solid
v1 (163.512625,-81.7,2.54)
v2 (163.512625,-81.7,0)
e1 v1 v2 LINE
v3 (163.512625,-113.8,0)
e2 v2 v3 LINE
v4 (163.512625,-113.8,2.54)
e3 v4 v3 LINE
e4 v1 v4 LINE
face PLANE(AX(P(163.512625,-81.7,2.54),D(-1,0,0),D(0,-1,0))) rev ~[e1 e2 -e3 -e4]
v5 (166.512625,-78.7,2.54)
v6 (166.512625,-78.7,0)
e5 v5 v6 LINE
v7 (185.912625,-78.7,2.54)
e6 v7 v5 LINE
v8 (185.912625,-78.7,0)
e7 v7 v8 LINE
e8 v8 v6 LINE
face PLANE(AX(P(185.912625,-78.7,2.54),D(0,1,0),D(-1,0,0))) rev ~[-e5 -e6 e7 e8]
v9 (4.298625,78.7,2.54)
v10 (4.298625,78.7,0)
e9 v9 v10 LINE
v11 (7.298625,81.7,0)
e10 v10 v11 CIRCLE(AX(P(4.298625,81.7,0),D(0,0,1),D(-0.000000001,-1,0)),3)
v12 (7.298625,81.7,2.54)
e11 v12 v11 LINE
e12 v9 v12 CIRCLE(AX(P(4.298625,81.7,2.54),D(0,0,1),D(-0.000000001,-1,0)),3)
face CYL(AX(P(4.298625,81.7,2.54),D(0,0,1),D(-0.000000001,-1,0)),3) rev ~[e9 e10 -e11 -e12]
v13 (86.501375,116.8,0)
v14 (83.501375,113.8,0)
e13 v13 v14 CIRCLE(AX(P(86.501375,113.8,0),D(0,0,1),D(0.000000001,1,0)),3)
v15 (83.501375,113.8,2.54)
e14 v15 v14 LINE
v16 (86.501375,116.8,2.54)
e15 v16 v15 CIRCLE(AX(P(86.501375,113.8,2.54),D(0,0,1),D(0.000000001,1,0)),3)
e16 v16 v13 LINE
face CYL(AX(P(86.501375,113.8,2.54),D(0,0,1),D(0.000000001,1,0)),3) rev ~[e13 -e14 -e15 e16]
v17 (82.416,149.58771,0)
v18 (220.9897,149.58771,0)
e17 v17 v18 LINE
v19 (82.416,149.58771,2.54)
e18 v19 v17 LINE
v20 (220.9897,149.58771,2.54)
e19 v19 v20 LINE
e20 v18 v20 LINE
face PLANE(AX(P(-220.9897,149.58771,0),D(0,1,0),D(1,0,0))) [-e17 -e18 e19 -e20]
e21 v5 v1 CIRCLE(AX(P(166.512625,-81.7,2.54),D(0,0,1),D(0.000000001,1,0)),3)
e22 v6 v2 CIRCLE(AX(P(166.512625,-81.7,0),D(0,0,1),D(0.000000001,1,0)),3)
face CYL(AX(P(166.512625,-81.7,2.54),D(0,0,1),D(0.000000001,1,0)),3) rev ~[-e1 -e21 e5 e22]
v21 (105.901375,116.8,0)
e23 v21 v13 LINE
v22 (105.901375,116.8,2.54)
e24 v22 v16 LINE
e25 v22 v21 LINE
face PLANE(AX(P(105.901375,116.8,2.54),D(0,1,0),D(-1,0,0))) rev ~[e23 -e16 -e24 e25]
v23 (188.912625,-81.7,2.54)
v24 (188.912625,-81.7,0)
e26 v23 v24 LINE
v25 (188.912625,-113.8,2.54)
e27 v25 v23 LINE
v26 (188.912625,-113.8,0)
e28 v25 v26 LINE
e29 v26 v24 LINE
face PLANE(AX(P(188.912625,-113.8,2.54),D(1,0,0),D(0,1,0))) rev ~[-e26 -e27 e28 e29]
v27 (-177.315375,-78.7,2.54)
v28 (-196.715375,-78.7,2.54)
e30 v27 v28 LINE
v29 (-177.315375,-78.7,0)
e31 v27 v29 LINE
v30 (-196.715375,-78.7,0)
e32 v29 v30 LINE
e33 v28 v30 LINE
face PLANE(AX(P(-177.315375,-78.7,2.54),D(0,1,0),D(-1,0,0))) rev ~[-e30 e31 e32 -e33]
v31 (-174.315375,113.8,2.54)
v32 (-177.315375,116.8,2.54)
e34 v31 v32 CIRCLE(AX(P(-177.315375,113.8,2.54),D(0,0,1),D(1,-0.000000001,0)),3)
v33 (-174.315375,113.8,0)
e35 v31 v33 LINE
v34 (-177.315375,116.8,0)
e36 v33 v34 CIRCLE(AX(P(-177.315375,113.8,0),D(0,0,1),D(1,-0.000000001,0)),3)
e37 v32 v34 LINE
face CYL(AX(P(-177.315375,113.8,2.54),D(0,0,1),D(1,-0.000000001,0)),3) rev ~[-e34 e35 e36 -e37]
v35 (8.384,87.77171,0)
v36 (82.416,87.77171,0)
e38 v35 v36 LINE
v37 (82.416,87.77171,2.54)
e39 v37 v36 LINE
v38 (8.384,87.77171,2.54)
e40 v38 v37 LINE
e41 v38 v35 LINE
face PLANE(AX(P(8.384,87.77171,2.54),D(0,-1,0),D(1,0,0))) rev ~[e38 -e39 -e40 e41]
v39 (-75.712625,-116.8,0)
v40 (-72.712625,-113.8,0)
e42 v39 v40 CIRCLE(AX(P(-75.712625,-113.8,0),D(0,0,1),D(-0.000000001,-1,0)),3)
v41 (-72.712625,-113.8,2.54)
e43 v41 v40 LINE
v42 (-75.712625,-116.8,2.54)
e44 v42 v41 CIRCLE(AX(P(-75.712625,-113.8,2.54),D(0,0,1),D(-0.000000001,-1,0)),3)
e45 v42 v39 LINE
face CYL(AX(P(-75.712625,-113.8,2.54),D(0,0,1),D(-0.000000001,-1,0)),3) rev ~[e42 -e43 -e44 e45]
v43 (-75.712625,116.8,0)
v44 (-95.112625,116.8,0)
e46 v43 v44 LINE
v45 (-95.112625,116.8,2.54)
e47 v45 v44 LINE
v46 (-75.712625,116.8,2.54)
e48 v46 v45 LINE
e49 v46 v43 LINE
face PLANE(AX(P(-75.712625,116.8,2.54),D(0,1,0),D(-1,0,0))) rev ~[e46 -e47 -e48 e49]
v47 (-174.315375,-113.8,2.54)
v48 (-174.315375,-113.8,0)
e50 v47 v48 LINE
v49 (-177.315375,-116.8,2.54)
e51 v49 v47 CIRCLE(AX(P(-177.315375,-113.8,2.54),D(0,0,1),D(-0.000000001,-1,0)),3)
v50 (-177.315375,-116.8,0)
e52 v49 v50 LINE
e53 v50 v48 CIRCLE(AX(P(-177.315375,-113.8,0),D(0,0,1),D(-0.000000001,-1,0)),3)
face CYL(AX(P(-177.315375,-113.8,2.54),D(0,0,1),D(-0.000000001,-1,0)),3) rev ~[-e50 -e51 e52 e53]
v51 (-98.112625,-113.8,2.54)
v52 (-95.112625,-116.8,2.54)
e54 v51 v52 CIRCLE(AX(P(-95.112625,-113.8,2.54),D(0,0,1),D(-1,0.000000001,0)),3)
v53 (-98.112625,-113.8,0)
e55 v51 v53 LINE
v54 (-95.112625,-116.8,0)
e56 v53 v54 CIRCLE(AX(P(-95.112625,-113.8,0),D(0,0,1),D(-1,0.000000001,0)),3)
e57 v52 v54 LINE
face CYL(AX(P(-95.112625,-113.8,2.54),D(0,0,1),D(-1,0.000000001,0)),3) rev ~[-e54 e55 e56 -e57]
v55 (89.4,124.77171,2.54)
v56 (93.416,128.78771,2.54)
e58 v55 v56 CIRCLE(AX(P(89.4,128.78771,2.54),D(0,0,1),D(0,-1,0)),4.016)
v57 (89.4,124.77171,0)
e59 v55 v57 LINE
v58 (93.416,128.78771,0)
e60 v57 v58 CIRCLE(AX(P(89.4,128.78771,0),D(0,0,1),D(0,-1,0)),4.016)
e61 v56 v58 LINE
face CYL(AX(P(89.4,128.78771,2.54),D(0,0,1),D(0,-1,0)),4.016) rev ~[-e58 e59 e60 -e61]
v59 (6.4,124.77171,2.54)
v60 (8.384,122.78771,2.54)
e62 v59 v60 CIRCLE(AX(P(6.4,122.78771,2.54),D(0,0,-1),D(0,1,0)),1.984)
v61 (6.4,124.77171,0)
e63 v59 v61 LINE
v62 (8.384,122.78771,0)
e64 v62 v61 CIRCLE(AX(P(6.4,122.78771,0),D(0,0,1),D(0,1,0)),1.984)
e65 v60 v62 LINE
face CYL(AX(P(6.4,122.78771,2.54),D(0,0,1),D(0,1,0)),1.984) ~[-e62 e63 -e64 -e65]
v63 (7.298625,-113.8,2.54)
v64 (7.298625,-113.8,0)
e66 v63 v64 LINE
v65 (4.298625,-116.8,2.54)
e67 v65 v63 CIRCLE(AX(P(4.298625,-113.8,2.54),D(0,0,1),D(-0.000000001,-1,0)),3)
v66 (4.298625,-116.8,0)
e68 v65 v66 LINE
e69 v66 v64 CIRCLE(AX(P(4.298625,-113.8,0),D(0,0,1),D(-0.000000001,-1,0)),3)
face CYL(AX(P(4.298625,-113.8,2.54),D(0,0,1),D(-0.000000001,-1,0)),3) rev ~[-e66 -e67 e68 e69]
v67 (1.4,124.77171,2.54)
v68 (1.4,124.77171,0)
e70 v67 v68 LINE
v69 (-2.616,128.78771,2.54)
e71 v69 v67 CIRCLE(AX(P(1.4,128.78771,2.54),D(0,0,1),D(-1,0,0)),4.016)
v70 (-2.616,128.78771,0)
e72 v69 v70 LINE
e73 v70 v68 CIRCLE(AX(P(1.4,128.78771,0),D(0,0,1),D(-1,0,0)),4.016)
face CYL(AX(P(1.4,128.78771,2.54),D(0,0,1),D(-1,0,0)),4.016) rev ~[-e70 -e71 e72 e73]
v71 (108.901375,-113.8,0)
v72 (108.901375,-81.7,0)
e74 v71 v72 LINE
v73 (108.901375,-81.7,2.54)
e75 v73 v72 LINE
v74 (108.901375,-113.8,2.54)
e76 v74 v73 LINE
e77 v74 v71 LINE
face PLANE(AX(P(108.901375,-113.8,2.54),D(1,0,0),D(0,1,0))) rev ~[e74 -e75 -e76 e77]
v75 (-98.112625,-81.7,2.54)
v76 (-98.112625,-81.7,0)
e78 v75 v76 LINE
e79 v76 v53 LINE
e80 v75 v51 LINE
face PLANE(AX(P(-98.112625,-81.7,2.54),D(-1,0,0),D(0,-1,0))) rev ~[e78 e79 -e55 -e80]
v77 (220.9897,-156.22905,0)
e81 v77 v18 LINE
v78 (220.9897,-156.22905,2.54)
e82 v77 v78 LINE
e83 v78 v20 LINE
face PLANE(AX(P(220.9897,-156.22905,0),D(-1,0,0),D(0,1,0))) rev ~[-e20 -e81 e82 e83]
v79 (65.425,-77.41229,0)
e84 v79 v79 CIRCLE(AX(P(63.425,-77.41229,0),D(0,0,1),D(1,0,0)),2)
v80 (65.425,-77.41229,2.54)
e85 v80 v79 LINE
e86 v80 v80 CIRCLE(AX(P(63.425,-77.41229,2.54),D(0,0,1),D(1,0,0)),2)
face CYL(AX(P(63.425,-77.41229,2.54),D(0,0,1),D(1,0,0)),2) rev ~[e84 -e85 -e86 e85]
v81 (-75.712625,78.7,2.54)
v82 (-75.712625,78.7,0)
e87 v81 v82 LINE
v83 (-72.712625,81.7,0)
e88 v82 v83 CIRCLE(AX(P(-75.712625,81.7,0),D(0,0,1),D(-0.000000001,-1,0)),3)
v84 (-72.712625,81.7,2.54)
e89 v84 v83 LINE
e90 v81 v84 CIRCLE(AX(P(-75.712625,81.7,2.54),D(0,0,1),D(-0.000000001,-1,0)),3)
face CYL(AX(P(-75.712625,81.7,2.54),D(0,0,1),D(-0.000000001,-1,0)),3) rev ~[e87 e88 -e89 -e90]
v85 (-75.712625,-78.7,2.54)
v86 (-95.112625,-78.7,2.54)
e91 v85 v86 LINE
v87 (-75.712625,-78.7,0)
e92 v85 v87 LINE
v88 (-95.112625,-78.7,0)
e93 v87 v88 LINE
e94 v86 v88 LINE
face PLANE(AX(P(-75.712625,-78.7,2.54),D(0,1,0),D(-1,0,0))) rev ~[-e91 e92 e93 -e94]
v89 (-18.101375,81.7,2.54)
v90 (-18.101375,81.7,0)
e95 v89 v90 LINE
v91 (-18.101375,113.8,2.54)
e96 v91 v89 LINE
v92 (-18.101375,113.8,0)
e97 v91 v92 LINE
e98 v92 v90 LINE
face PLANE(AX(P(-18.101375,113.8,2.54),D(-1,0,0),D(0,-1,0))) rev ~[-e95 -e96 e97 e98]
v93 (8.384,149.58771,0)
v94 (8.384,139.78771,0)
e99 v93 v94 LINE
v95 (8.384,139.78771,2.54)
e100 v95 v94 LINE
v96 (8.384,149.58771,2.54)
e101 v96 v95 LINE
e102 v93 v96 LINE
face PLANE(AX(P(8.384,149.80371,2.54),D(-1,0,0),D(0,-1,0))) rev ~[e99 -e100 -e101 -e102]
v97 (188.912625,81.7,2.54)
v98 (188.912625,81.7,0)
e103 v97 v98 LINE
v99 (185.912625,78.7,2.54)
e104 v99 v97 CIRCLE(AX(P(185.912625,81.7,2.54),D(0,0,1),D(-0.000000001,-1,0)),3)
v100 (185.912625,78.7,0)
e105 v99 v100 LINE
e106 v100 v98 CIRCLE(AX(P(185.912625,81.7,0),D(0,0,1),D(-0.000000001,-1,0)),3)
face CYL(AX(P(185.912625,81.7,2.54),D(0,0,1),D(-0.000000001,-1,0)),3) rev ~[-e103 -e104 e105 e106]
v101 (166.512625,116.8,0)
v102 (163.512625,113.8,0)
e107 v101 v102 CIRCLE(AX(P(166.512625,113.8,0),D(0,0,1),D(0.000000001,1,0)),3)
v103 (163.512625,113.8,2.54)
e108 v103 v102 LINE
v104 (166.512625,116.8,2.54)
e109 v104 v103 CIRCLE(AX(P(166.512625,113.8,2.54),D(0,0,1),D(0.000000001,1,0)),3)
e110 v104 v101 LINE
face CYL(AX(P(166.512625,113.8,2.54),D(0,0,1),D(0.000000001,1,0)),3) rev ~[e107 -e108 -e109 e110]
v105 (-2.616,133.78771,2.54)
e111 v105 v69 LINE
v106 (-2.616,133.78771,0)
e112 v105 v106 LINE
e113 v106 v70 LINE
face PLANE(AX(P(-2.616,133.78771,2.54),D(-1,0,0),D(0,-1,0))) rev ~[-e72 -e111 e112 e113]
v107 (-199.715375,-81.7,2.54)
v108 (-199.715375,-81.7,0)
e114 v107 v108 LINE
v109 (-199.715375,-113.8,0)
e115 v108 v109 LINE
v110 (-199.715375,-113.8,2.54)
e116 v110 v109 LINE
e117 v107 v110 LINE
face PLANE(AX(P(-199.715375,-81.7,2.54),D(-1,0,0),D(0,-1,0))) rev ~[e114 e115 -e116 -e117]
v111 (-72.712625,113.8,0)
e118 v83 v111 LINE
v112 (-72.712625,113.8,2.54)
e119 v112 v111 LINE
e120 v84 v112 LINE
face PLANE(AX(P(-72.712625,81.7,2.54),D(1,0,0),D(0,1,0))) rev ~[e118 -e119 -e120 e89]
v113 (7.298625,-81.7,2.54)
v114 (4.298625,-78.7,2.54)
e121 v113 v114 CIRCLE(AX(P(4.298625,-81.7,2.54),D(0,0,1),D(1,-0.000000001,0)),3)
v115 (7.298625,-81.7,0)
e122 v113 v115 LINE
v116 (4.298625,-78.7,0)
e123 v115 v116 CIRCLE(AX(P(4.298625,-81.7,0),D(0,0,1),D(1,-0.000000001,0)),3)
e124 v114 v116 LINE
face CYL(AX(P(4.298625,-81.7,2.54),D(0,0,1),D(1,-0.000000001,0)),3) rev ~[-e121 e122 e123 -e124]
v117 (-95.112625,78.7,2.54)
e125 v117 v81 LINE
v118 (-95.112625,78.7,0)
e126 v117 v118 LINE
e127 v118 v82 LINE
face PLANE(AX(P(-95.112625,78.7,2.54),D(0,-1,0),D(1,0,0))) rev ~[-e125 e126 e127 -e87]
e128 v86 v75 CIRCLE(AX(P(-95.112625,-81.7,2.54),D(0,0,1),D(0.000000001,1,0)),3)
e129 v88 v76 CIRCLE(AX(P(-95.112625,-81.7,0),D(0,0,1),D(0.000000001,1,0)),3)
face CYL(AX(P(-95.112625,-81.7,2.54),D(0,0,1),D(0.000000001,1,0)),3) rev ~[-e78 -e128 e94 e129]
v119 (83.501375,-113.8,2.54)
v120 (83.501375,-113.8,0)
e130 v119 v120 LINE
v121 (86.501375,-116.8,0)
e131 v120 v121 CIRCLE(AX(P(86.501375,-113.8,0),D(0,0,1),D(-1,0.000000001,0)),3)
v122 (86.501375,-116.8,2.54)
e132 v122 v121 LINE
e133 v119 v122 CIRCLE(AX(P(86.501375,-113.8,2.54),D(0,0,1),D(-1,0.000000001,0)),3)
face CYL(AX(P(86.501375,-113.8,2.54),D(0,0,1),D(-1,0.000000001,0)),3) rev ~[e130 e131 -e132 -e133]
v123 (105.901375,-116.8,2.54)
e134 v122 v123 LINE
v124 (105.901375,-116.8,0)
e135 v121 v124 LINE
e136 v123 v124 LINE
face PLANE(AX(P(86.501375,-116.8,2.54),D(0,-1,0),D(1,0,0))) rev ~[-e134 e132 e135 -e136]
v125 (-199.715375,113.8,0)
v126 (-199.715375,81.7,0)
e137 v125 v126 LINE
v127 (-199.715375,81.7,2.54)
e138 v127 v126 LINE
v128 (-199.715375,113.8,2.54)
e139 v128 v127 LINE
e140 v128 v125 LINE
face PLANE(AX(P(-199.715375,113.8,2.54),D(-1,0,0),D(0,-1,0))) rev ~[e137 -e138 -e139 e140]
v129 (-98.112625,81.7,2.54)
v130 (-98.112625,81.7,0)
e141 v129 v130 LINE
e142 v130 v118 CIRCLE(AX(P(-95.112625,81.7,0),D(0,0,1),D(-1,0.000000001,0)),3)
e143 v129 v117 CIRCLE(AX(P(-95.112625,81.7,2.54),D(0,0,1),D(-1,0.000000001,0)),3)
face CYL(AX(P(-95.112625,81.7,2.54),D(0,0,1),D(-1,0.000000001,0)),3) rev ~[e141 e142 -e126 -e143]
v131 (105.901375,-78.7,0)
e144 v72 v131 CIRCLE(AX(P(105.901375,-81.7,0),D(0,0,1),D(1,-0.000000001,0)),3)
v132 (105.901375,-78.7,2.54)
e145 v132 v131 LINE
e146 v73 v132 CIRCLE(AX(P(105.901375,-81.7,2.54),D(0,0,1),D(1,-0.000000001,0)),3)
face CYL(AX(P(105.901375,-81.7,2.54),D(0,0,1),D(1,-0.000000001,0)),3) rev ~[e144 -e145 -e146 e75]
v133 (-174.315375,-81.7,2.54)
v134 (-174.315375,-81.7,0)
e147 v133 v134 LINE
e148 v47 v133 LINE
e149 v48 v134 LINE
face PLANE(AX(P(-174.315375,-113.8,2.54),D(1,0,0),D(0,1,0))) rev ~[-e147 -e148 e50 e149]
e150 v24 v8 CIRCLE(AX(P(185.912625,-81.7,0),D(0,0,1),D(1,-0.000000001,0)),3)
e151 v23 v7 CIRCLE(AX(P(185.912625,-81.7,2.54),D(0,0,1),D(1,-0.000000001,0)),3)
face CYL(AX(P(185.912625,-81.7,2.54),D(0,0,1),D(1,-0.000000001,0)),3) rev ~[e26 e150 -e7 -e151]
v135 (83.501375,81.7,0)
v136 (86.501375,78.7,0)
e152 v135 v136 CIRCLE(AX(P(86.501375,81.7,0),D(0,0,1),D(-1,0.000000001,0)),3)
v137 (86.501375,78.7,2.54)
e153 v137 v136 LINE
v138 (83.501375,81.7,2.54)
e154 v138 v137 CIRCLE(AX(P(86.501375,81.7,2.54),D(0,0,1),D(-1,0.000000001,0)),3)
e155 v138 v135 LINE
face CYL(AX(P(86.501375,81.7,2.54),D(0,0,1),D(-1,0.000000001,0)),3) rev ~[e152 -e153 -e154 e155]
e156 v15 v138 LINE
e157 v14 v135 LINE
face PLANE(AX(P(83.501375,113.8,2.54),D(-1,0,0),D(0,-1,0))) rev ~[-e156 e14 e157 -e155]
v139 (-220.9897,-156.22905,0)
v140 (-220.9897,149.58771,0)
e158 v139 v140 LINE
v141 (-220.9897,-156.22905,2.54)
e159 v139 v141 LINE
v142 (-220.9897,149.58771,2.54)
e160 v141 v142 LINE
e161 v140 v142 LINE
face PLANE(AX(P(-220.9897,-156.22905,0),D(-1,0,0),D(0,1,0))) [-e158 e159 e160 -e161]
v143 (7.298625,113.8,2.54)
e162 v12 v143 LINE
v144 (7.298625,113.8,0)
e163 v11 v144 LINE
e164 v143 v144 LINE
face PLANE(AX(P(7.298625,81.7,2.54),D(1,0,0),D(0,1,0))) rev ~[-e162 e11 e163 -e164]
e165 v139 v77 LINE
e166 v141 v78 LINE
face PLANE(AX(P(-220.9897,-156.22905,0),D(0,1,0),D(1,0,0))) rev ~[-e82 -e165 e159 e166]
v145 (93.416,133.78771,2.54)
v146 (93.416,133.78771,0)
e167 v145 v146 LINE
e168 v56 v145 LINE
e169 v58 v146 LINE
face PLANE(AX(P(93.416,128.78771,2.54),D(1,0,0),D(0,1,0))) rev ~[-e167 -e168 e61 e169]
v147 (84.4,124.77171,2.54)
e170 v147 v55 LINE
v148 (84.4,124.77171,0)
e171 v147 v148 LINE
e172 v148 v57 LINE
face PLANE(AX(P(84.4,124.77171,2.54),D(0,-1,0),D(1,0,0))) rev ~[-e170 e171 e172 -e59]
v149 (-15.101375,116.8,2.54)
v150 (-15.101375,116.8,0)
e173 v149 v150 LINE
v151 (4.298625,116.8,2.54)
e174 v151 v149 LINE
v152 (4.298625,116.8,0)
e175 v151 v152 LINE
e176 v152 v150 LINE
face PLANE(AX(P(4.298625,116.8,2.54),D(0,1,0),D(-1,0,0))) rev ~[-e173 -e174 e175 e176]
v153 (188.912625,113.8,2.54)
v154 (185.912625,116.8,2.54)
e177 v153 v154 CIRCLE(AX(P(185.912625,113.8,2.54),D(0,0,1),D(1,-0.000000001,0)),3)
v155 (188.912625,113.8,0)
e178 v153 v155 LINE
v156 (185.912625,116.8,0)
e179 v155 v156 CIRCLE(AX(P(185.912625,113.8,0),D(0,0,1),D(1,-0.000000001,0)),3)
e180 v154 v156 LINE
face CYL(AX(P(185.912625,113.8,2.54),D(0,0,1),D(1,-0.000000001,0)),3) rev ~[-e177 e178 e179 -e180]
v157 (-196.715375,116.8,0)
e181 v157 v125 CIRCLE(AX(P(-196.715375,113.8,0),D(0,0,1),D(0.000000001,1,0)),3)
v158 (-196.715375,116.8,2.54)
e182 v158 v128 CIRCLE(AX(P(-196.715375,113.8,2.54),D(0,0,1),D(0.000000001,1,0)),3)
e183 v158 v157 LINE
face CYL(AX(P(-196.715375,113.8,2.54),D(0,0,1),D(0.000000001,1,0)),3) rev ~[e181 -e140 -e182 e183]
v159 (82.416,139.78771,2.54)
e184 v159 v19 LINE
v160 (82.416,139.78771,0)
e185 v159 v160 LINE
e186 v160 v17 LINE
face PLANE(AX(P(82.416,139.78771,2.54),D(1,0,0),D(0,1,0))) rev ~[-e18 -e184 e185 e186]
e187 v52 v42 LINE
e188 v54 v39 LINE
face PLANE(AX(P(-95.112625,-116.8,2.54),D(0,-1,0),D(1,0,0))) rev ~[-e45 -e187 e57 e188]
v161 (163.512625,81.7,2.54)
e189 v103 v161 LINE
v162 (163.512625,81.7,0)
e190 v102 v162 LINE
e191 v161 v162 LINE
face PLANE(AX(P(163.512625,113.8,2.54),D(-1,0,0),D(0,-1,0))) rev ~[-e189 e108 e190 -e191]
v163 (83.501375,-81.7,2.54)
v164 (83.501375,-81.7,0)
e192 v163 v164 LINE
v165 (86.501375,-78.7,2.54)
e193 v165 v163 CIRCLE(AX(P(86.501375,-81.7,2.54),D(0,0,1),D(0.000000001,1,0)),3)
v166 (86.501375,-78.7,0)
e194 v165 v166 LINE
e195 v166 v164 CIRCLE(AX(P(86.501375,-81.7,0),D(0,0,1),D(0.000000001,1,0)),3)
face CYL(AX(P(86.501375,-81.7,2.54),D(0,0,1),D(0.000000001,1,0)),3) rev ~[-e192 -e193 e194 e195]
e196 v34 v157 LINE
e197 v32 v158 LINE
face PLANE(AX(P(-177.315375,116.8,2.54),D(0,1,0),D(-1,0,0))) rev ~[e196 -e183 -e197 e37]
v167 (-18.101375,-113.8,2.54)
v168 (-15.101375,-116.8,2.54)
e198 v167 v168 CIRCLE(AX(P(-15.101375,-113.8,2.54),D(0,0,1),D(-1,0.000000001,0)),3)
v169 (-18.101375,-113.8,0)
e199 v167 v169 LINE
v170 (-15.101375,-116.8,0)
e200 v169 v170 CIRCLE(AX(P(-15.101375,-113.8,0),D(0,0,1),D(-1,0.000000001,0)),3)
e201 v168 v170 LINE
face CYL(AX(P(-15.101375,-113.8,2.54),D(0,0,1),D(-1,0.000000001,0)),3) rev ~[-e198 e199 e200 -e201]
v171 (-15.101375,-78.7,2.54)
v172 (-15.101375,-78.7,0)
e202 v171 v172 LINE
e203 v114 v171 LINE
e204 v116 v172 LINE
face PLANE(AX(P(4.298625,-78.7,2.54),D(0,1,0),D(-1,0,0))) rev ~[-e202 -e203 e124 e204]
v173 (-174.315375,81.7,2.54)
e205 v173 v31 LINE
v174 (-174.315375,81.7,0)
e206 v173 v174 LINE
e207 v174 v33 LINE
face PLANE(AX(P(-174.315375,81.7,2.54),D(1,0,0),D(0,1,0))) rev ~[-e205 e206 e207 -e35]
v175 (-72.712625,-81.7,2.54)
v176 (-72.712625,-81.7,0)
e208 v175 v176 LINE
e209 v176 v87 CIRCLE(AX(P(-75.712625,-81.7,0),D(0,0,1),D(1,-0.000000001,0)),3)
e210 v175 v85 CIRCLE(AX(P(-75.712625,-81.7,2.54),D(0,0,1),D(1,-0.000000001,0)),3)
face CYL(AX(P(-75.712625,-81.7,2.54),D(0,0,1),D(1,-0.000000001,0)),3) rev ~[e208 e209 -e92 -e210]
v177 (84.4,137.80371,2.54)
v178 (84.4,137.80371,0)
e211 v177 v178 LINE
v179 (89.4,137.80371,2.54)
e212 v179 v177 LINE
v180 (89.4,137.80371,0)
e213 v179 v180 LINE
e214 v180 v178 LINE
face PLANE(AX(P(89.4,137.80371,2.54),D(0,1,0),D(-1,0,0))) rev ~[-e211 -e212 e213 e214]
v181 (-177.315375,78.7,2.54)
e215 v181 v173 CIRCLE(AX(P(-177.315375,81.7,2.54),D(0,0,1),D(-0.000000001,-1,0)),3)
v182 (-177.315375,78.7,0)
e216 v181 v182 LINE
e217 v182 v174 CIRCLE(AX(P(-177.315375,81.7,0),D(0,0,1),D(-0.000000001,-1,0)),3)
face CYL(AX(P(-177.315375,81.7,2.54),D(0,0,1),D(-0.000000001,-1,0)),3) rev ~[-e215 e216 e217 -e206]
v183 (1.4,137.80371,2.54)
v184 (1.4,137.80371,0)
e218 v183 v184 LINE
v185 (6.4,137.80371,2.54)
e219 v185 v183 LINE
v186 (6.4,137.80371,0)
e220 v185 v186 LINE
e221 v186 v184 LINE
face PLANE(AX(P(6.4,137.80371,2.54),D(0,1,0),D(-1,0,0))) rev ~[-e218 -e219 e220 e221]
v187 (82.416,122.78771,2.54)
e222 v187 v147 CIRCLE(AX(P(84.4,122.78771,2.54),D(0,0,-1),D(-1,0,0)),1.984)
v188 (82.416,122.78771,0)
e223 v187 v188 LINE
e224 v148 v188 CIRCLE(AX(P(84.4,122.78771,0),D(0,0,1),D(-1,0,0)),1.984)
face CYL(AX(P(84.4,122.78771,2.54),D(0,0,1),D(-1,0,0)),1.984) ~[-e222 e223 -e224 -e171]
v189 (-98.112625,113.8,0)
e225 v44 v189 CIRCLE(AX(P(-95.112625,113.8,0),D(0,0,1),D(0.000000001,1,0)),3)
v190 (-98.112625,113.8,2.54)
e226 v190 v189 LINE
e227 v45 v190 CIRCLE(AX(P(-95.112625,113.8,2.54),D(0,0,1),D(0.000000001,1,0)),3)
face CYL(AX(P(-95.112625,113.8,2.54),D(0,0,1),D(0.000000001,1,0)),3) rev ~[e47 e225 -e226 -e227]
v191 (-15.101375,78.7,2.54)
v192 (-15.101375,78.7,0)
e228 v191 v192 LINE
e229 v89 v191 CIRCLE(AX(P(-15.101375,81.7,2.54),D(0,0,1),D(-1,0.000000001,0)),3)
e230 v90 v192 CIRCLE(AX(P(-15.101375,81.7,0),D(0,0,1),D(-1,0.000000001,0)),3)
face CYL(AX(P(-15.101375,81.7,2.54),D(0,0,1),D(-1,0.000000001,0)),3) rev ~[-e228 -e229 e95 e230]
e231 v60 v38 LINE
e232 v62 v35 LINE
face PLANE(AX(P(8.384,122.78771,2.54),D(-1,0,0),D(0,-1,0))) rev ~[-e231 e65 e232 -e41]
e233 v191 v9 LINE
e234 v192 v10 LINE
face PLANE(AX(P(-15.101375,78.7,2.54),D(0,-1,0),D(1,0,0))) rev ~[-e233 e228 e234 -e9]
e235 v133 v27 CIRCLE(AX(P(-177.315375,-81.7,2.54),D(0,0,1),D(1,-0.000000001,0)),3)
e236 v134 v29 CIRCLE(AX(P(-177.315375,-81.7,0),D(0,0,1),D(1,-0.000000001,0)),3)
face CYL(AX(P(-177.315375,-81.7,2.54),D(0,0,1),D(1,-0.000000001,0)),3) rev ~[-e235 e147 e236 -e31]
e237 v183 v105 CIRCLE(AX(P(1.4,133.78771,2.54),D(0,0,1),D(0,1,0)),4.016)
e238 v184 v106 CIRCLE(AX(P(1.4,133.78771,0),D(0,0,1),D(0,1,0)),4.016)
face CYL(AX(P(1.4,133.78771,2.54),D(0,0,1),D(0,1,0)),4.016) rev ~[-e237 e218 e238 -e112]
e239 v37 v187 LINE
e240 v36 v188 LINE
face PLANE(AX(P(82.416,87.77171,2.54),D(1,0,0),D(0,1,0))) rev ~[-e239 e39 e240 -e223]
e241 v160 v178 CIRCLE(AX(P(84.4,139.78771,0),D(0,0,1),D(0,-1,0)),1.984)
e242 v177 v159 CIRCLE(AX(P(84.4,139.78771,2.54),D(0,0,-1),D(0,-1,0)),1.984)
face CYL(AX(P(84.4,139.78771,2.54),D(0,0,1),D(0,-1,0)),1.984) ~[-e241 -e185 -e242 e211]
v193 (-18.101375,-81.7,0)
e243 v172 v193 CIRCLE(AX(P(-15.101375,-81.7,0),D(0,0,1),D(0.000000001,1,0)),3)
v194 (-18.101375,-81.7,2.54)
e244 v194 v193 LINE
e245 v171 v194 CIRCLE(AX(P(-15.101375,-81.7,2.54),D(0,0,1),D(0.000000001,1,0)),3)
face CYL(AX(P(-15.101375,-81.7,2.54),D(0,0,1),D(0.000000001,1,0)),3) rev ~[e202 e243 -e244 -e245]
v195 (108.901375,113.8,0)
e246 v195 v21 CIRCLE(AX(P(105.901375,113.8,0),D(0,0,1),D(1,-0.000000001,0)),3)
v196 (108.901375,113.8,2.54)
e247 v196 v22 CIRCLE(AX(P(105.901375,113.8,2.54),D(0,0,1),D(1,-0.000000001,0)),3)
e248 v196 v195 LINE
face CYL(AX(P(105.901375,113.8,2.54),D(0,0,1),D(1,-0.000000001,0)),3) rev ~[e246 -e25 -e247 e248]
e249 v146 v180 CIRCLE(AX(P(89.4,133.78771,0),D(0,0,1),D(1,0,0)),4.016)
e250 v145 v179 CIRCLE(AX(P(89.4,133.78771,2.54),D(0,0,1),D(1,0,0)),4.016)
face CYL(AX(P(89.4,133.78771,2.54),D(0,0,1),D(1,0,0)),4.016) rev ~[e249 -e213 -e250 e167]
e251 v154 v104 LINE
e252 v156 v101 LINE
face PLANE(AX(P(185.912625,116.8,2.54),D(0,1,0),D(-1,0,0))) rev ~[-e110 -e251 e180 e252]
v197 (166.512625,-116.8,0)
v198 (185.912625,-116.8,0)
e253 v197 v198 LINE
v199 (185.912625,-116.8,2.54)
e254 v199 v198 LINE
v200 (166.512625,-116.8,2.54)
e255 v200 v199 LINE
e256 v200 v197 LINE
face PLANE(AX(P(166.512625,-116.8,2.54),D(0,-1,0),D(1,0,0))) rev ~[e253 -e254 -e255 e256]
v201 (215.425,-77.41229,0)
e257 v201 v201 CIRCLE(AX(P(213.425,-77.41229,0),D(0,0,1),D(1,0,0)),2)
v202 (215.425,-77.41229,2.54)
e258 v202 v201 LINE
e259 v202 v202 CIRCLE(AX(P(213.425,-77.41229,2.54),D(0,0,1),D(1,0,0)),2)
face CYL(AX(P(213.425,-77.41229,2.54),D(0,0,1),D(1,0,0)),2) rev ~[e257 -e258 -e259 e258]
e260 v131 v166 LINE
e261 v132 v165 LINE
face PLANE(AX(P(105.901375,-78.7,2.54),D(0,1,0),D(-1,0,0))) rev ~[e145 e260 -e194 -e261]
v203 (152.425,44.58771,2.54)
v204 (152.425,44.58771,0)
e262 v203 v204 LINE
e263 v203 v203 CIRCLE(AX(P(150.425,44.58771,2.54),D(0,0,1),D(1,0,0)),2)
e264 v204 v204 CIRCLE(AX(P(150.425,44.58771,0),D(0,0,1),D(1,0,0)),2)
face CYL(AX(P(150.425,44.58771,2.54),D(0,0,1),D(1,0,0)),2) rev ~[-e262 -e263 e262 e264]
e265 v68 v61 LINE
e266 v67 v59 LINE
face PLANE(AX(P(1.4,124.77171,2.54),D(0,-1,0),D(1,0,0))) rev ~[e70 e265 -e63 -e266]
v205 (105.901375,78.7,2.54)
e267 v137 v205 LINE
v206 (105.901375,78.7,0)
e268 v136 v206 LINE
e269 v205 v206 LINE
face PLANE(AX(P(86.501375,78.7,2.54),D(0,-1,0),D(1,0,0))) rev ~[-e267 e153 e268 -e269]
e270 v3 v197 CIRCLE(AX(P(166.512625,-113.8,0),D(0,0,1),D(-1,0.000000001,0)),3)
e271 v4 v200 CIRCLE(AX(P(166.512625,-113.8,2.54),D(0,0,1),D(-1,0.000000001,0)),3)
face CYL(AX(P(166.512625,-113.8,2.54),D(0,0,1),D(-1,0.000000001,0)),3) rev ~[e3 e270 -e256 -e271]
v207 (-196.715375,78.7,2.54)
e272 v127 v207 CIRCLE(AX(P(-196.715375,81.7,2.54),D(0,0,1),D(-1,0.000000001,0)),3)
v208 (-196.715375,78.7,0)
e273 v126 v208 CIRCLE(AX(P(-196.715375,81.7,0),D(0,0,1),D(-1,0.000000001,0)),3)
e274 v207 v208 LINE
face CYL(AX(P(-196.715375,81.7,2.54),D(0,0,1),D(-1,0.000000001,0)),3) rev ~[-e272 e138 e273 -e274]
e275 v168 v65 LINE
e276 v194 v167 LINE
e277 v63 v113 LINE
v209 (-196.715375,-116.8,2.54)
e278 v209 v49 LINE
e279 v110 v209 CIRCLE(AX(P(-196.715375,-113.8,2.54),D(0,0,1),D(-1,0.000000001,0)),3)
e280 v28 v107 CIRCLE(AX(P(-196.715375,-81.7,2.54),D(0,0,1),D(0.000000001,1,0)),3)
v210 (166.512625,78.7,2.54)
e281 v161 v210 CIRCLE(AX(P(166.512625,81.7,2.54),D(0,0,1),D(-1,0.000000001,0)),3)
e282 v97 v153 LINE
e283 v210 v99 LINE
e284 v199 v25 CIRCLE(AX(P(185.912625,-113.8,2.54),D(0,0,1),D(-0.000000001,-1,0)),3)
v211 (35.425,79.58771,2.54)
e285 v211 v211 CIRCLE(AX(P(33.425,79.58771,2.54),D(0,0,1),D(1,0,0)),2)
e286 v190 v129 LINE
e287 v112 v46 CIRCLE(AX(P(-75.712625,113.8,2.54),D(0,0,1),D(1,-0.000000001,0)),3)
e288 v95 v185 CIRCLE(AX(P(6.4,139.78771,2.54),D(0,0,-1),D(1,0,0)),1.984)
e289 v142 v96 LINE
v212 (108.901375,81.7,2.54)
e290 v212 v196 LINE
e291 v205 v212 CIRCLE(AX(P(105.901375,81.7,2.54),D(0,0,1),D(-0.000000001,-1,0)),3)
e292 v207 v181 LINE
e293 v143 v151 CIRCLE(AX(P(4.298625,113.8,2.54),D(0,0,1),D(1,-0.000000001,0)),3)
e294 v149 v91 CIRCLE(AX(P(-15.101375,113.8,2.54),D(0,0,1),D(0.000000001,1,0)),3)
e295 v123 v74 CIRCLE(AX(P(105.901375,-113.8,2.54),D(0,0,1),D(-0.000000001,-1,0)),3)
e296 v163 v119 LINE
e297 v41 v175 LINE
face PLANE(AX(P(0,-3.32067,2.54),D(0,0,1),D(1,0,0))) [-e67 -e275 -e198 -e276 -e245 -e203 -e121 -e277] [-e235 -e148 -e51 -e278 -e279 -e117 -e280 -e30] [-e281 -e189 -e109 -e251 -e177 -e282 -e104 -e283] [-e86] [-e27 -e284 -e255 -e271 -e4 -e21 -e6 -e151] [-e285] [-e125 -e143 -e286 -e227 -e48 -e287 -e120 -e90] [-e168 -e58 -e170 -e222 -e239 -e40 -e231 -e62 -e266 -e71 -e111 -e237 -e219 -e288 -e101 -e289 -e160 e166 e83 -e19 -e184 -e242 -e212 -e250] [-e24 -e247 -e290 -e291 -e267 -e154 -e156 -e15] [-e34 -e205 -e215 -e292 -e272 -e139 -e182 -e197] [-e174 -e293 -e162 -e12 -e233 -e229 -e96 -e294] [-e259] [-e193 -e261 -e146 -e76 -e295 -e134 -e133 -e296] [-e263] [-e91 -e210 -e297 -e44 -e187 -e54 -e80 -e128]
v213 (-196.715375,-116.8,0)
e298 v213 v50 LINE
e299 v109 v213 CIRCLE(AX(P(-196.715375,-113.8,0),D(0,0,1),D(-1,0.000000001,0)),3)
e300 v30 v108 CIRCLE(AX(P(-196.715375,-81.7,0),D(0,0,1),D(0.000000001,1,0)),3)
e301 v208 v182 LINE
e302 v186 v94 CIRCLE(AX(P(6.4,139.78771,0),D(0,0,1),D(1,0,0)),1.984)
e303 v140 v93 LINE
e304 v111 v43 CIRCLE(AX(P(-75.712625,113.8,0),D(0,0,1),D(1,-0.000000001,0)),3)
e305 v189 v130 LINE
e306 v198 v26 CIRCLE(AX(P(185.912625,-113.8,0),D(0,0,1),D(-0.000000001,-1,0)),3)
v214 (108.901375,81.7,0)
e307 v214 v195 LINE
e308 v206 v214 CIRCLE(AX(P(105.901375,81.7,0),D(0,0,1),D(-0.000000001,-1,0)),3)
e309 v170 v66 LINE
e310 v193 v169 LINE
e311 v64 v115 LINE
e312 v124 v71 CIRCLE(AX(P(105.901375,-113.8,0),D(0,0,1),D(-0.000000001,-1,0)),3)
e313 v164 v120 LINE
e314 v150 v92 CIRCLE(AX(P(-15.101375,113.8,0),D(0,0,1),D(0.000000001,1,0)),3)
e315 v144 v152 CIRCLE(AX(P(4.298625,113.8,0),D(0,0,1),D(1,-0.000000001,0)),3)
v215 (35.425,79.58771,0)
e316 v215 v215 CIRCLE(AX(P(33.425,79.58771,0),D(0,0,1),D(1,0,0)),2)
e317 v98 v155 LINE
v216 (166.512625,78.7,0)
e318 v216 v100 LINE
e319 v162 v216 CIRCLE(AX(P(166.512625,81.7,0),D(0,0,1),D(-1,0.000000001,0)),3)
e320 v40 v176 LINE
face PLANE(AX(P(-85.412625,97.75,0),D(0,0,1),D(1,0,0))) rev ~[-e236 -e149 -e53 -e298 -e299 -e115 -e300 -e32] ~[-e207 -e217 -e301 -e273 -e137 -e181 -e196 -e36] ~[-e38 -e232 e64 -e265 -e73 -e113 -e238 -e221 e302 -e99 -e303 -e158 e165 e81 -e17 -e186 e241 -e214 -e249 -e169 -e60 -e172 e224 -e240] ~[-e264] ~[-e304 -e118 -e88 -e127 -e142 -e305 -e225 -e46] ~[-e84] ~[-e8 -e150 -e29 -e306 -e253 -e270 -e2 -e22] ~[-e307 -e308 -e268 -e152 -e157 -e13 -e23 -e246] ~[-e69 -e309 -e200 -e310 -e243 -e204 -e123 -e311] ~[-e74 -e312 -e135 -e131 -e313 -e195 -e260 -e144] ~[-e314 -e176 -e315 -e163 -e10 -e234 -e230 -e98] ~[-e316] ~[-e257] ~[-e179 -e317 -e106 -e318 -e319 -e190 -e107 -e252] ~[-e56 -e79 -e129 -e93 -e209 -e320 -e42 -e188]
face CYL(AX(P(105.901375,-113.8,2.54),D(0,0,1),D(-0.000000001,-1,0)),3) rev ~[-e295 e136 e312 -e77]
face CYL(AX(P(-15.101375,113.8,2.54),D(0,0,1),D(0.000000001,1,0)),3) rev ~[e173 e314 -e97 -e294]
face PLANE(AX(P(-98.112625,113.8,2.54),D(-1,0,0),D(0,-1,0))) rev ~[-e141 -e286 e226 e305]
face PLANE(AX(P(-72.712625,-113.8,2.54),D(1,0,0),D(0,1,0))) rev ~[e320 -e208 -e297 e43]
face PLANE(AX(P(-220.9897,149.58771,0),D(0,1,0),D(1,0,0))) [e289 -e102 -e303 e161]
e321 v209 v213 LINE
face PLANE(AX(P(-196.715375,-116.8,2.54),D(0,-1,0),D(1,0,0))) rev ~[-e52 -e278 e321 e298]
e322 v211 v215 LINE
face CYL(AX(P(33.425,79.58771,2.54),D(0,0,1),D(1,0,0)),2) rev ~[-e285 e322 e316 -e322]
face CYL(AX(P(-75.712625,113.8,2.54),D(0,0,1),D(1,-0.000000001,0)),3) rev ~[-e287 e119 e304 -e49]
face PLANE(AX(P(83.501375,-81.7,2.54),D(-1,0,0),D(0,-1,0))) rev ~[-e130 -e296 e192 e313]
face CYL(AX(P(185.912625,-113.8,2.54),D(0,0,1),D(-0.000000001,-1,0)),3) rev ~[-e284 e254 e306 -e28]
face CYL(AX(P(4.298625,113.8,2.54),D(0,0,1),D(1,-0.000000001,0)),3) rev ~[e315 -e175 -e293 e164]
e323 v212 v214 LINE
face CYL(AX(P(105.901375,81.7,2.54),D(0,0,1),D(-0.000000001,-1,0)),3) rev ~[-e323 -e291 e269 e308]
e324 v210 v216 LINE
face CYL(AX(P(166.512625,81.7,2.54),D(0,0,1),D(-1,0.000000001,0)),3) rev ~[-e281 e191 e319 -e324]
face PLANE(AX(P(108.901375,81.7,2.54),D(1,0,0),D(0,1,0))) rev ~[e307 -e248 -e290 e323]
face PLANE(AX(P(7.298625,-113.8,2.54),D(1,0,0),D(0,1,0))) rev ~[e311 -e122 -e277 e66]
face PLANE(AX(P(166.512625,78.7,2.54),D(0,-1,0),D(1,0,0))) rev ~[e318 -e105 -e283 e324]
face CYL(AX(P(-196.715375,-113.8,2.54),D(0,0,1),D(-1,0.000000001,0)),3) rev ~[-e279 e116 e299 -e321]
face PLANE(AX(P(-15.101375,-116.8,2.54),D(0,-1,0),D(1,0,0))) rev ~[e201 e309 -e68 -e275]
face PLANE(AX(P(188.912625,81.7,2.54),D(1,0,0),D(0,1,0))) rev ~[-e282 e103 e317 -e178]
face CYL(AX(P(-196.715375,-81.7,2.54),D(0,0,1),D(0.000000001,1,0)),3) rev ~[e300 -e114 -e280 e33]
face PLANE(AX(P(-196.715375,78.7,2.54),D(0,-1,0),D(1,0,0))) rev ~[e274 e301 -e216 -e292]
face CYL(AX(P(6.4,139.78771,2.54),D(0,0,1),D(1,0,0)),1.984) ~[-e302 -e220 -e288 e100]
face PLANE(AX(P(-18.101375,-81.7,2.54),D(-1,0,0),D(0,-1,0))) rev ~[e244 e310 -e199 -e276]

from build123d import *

# Parameters (mm, degrees)
SKETCH1_W           = 441.979400076
SKETCH1_H           = 305.81676
BOSS_EXTRUDE1_DEPTH = 2.54
CUT_EXTRUDE1_DEPTH  = 271.648139079
LPATTERN1_COUNT     = 3
LPATTERN1_PITCH     = 181.613999992
CUT_EXTRUDE2_DEPTH  = 271.648139079
LPATTERN2_COUNT     = 2
LPATTERN2_PITCH     = 181.613999992
CUT_EXTRUDE3_DEPTH  = 271.648139079
SKETCH6_R           = 2
CUT_EXTRUDE4_DEPTH  = 271.648139079


with BuildPart() as part:
    # Sketch1 → Boss-Extrude1 (new body)
    # profile 1 of 5: a face of its own
    with BuildSketch(Plane.XY):
        with Locations((0, -3.32067)):
            Rectangle(SKETCH1_W, SKETCH1_H)
        with BuildLine():
            ThreePointArc((-98.112625, -113.8), (-97.233945344, -115.921320344), (-95.112625, -116.8))
            Line((-95.112625, -116.8), (-75.712625, -116.8))
            ThreePointArc((-75.712625, -116.8), (-73.591304656, -115.921320344), (-72.712625, -113.8))
            Line((-72.712625, -113.8), (-72.712625, -81.7))
            ThreePointArc((-72.712625, -81.7), (-73.591304656, -79.578679656), (-75.712625, -78.7))
            Line((-75.712625, -78.7), (-95.112625, -78.7))
            ThreePointArc((-95.112625, -78.7), (-97.233945344, -79.578679656), (-98.112625, -81.7))
            Line((-98.112625, -81.7), (-98.112625, -113.8))
        make_face(mode=Mode.SUBTRACT)
        with BuildLine():
            ThreePointArc((-98.112625, 81.7), (-97.233945344, 79.578679656), (-95.112625, 78.7))
            Line((-95.112625, 78.7), (-75.712625, 78.7))
            ThreePointArc((-75.712625, 78.7), (-73.591304656, 79.578679656), (-72.712625, 81.7))
            Line((-72.712625, 81.7), (-72.712625, 113.8))
            ThreePointArc((-72.712625, 113.8), (-73.591304656, 115.921320344), (-75.712625, 116.8))
            Line((-75.712625, 116.8), (-95.112625, 116.8))
            ThreePointArc((-95.112625, 116.8), (-97.233945344, 115.921320344), (-98.112625, 113.8))
            Line((-98.112625, 113.8), (-98.112625, 81.7))
        make_face(mode=Mode.SUBTRACT)
        with BuildLine():
            ThreePointArc((-199.715375, -113.8), (-198.836695344, -115.921320344), (-196.715375, -116.8))
            Line((-196.715375, -116.8), (-177.315375, -116.8))
            ThreePointArc((-177.315375, -116.8), (-175.194054656, -115.921320344), (-174.315375, -113.8))
            Line((-174.315375, -113.8), (-174.315375, -81.7))
            ThreePointArc((-174.315375, -81.7), (-175.194054656, -79.578679656), (-177.315375, -78.7))
            Line((-177.315375, -78.7), (-196.715375, -78.7))
            ThreePointArc((-196.715375, -78.7), (-198.836695344, -79.578679656), (-199.715375, -81.7))
            Line((-199.715375, -81.7), (-199.715375, -113.8))
        make_face(mode=Mode.SUBTRACT)
        with BuildLine():
            ThreePointArc((-199.715375, 81.7), (-198.836695344, 79.578679656), (-196.715375, 78.7))
            Line((-196.715375, 78.7), (-177.315375, 78.7))
            ThreePointArc((-177.315375, 78.7), (-175.194054656, 79.578679656), (-174.315375, 81.7))
            Line((-174.315375, 81.7), (-174.315375, 113.8))
            ThreePointArc((-174.315375, 113.8), (-175.194054656, 115.921320344), (-177.315375, 116.8))
            Line((-177.315375, 116.8), (-196.715375, 116.8))
            ThreePointArc((-196.715375, 116.8), (-198.836695344, 115.921320344), (-199.715375, 113.8))
            Line((-199.715375, 113.8), (-199.715375, 81.7))
        make_face(mode=Mode.SUBTRACT)
    # profile 2 of 5: a face of its own
    with BuildSketch(Plane.XY):
        with BuildLine():
            Line((-199.715375, -113.8), (-199.715375, -81.7))
            ThreePointArc((-199.715375, -81.7), (-198.836695344, -79.578679656), (-196.715375, -78.7))
            Line((-196.715375, -78.7), (-177.315375, -78.7))
            ThreePointArc((-177.315375, -78.7), (-175.194054656, -79.578679656), (-174.315375, -81.7))
            Line((-174.315375, -81.7), (-174.315375, -113.8))
            ThreePointArc((-174.315375, -113.8), (-175.194054656, -115.921320344), (-177.315375, -116.8))
            Line((-177.315375, -116.8), (-196.715375, -116.8))
            ThreePointArc((-196.715375, -116.8), (-198.836695344, -115.921320344), (-199.715375, -113.8))
        make_face()
    # profile 3 of 5: a face of its own
    with BuildSketch(Plane.XY):
        with BuildLine():
            Line((-98.112625, -113.8), (-98.112625, -81.7))
            ThreePointArc((-98.112625, -81.7), (-97.233945344, -79.578679656), (-95.112625, -78.7))
            Line((-95.112625, -78.7), (-75.712625, -78.7))
            ThreePointArc((-75.712625, -78.7), (-73.591304656, -79.578679656), (-72.712625, -81.7))
            Line((-72.712625, -81.7), (-72.712625, -113.8))
            ThreePointArc((-72.712625, -113.8), (-73.591304656, -115.921320344), (-75.712625, -116.8))
            Line((-75.712625, -116.8), (-95.112625, -116.8))
            ThreePointArc((-95.112625, -116.8), (-97.233945344, -115.921320344), (-98.112625, -113.8))
        make_face()
    # profile 4 of 5: a face of its own
    with BuildSketch(Plane.XY):
        with BuildLine():
            Line((-199.715375, 113.8), (-199.715375, 81.7))
            ThreePointArc((-199.715375, 81.7), (-198.836695344, 79.578679656), (-196.715375, 78.7))
            Line((-196.715375, 78.7), (-177.315375, 78.7))
            ThreePointArc((-177.315375, 78.7), (-175.194054656, 79.578679656), (-174.315375, 81.7))
            Line((-174.315375, 81.7), (-174.315375, 113.8))
            ThreePointArc((-174.315375, 113.8), (-175.194054656, 115.921320344), (-177.315375, 116.8))
            Line((-177.315375, 116.8), (-196.715375, 116.8))
            ThreePointArc((-196.715375, 116.8), (-198.836695344, 115.921320344), (-199.715375, 113.8))
        make_face()
    # profile 5 of 5: a face of its own
    with BuildSketch(Plane.XY):
        with BuildLine():
            Line((-98.112625, 113.8), (-98.112625, 81.7))
            ThreePointArc((-98.112625, 81.7), (-97.233945344, 79.578679656), (-95.112625, 78.7))
            Line((-95.112625, 78.7), (-75.712625, 78.7))
            ThreePointArc((-75.712625, 78.7), (-73.591304656, 79.578679656), (-72.712625, 81.7))
            Line((-72.712625, 81.7), (-72.712625, 113.8))
            ThreePointArc((-72.712625, 113.8), (-73.591304656, 115.921320344), (-75.712625, 116.8))
            Line((-75.712625, 116.8), (-95.112625, 116.8))
            ThreePointArc((-95.112625, 116.8), (-97.233945344, 115.921320344), (-98.112625, 113.8))
        make_face()
    extrude(amount=BOSS_EXTRUDE1_DEPTH)

    # Sketch2 → Cut-Extrude1 (cut, through all)
    with BuildSketch(Plane.XY.offset(2.54)):
        with BuildLine():
            Line((-196.715375, 78.7), (-177.315375, 78.7))
            ThreePointArc((-177.315375, 78.7), (-175.194054656, 79.578679656), (-174.315375, 81.7))
            Line((-174.315375, 81.7), (-174.315375, 113.8))
            ThreePointArc((-174.315375, 113.8), (-175.194054656, 115.921320344), (-177.315375, 116.8))
            Line((-177.315375, 116.8), (-196.715375, 116.8))
            ThreePointArc((-196.715375, 116.8), (-198.836695344, 115.921320344), (-199.715375, 113.8))
            Line((-199.715375, 113.8), (-199.715375, 81.7))
            ThreePointArc((-199.715375, 81.7), (-198.836695344, 79.578679656), (-196.715375, 78.7))
        make_face()
        with BuildLine():
            Line((-199.715375, -81.7), (-199.715375, -113.8))
            ThreePointArc((-199.715375, -113.8), (-198.836695344, -115.921320344), (-196.715375, -116.8))
            Line((-196.715375, -116.8), (-177.315375, -116.8))
            ThreePointArc((-177.315375, -116.8), (-175.194054656, -115.921320344), (-174.315375, -113.8))
            Line((-174.315375, -113.8), (-174.315375, -81.7))
            ThreePointArc((-174.315375, -81.7), (-175.194054656, -79.578679656), (-177.315375, -78.7))
            Line((-177.315375, -78.7), (-196.715375, -78.7))
            ThreePointArc((-196.715375, -78.7), (-198.836695344, -79.578679656), (-199.715375, -81.7))
        make_face()
    cut_extrude1 = extrude(amount=-CUT_EXTRUDE1_DEPTH, mode=Mode.SUBTRACT)

    # LPattern1: Cut-Extrude1 ×3
    with Locations(*[(i * LPATTERN1_PITCH, 0, 0) for i in range(1, LPATTERN1_COUNT)]):
        add(cut_extrude1, mode=Mode.SUBTRACT)

    # Sketch3 → Cut-Extrude2 (cut, through all)
    with BuildSketch(Plane.XY.offset(2.54)):
        with BuildLine():
            Line((-72.712625, 81.7), (-72.712625, 113.8))
            ThreePointArc((-72.712625, 113.8), (-73.591304656, 115.921320344), (-75.712625, 116.8))
            Line((-75.712625, 116.8), (-95.112625, 116.8))
            ThreePointArc((-95.112625, 116.8), (-97.233945344, 115.921320344), (-98.112625, 113.8))
            Line((-98.112625, 113.8), (-98.112625, 81.7))
            ThreePointArc((-98.112625, 81.7), (-97.233945344, 79.578679656), (-95.112625, 78.7))
            Line((-95.112625, 78.7), (-75.712625, 78.7))
            ThreePointArc((-75.712625, 78.7), (-73.591304656, 79.578679656), (-72.712625, 81.7))
        make_face()
        with BuildLine():
            Line((-72.712625, -113.8), (-72.712625, -81.7))
            ThreePointArc((-72.712625, -81.7), (-73.591304656, -79.578679656), (-75.712625, -78.7))
            Line((-75.712625, -78.7), (-95.112625, -78.7))
            ThreePointArc((-95.112625, -78.7), (-97.233945344, -79.578679656), (-98.112625, -81.7))
            Line((-98.112625, -81.7), (-98.112625, -113.8))
            ThreePointArc((-98.112625, -113.8), (-97.233945344, -115.921320344), (-95.112625, -116.8))
            Line((-95.112625, -116.8), (-75.712625, -116.8))
            ThreePointArc((-75.712625, -116.8), (-73.591304656, -115.921320344), (-72.712625, -113.8))
        make_face()
    cut_extrude2 = extrude(amount=-CUT_EXTRUDE2_DEPTH, mode=Mode.SUBTRACT)

    # LPattern2: Cut-Extrude2 ×2
    with Locations(*[(i * LPATTERN2_PITCH, 0, 0) for i in range(1, LPATTERN2_COUNT)]):
        add(cut_extrude2, mode=Mode.SUBTRACT)

    # Sketch5 → Cut-Extrude3 (cut, through all)
    with BuildSketch(Plane.XY.offset(2.54)):
        with BuildLine():
            ThreePointArc((8.383999992, 139.78771), (7.802899846, 138.384810146), (6.399999992, 137.80371))
            Line((6.399999992, 137.80371), (1.399999992, 137.80371))
            ThreePointArc((1.399999992, 137.80371), (-1.439740841, 136.627450833), (-2.616000008, 133.78771))
            Line((-2.616000008, 133.78771), (-2.616000008, 128.78771))
            ThreePointArc((-2.616000008, 128.78771), (-1.439740841, 125.947969167), (1.399999992, 124.77171))
            Line((1.399999992, 124.77171), (6.399999992, 124.77171))
            ThreePointArc((6.399999992, 124.77171), (7.802899846, 124.190609854), (8.383999992, 122.78771))
            Line((8.383999992, 122.78771), (8.383999992, 87.77171))
            Line((8.383999992, 87.77171), (82.415999992, 87.77171))
            Line((82.415999992, 87.77171), (82.415999992, 122.78771))
            ThreePointArc((82.415999992, 122.78771), (82.997100138, 124.190609854), (84.399999992, 124.77171))
            Line((84.399999992, 124.77171), (89.399999992, 124.77171))
            ThreePointArc((89.399999992, 124.77171), (92.239740825, 125.947969167), (93.415999992, 128.78771))
            Line((93.415999992, 128.78771), (93.415999992, 133.78771))
            ThreePointArc((93.415999992, 133.78771), (92.239740825, 136.627450833), (89.399999992, 137.80371))
            Line((89.399999992, 137.80371), (84.399999992, 137.80371))
            ThreePointArc((84.399999992, 137.80371), (82.997100138, 138.384810146), (82.415999992, 139.78771))
            Line((82.415999992, 139.78771), (82.415999992, 149.80371))
            Line((82.415999992, 149.80371), (8.383999992, 149.80371))
            Line((8.383999992, 149.80371), (8.383999992, 139.78771))
        make_face()
    extrude(amount=-CUT_EXTRUDE3_DEPTH, mode=Mode.SUBTRACT)

    # Sketch6 → Cut-Extrude4 (cut, through all)
    with BuildSketch(Plane.XY.offset(2.54)):
        with Locations((63.425, -77.41229)):
            Circle(SKETCH6_R)
        with Locations((213.425, -77.41229)):
            Circle(SKETCH6_R)
        with Locations((150.425, 44.58771)):
            Circle(SKETCH6_R)
        with Locations((33.425, 79.58771)):
            Circle(SKETCH6_R)
    extrude(amount=-CUT_EXTRUDE4_DEPTH, mode=Mode.SUBTRACT)


solid = part.part
